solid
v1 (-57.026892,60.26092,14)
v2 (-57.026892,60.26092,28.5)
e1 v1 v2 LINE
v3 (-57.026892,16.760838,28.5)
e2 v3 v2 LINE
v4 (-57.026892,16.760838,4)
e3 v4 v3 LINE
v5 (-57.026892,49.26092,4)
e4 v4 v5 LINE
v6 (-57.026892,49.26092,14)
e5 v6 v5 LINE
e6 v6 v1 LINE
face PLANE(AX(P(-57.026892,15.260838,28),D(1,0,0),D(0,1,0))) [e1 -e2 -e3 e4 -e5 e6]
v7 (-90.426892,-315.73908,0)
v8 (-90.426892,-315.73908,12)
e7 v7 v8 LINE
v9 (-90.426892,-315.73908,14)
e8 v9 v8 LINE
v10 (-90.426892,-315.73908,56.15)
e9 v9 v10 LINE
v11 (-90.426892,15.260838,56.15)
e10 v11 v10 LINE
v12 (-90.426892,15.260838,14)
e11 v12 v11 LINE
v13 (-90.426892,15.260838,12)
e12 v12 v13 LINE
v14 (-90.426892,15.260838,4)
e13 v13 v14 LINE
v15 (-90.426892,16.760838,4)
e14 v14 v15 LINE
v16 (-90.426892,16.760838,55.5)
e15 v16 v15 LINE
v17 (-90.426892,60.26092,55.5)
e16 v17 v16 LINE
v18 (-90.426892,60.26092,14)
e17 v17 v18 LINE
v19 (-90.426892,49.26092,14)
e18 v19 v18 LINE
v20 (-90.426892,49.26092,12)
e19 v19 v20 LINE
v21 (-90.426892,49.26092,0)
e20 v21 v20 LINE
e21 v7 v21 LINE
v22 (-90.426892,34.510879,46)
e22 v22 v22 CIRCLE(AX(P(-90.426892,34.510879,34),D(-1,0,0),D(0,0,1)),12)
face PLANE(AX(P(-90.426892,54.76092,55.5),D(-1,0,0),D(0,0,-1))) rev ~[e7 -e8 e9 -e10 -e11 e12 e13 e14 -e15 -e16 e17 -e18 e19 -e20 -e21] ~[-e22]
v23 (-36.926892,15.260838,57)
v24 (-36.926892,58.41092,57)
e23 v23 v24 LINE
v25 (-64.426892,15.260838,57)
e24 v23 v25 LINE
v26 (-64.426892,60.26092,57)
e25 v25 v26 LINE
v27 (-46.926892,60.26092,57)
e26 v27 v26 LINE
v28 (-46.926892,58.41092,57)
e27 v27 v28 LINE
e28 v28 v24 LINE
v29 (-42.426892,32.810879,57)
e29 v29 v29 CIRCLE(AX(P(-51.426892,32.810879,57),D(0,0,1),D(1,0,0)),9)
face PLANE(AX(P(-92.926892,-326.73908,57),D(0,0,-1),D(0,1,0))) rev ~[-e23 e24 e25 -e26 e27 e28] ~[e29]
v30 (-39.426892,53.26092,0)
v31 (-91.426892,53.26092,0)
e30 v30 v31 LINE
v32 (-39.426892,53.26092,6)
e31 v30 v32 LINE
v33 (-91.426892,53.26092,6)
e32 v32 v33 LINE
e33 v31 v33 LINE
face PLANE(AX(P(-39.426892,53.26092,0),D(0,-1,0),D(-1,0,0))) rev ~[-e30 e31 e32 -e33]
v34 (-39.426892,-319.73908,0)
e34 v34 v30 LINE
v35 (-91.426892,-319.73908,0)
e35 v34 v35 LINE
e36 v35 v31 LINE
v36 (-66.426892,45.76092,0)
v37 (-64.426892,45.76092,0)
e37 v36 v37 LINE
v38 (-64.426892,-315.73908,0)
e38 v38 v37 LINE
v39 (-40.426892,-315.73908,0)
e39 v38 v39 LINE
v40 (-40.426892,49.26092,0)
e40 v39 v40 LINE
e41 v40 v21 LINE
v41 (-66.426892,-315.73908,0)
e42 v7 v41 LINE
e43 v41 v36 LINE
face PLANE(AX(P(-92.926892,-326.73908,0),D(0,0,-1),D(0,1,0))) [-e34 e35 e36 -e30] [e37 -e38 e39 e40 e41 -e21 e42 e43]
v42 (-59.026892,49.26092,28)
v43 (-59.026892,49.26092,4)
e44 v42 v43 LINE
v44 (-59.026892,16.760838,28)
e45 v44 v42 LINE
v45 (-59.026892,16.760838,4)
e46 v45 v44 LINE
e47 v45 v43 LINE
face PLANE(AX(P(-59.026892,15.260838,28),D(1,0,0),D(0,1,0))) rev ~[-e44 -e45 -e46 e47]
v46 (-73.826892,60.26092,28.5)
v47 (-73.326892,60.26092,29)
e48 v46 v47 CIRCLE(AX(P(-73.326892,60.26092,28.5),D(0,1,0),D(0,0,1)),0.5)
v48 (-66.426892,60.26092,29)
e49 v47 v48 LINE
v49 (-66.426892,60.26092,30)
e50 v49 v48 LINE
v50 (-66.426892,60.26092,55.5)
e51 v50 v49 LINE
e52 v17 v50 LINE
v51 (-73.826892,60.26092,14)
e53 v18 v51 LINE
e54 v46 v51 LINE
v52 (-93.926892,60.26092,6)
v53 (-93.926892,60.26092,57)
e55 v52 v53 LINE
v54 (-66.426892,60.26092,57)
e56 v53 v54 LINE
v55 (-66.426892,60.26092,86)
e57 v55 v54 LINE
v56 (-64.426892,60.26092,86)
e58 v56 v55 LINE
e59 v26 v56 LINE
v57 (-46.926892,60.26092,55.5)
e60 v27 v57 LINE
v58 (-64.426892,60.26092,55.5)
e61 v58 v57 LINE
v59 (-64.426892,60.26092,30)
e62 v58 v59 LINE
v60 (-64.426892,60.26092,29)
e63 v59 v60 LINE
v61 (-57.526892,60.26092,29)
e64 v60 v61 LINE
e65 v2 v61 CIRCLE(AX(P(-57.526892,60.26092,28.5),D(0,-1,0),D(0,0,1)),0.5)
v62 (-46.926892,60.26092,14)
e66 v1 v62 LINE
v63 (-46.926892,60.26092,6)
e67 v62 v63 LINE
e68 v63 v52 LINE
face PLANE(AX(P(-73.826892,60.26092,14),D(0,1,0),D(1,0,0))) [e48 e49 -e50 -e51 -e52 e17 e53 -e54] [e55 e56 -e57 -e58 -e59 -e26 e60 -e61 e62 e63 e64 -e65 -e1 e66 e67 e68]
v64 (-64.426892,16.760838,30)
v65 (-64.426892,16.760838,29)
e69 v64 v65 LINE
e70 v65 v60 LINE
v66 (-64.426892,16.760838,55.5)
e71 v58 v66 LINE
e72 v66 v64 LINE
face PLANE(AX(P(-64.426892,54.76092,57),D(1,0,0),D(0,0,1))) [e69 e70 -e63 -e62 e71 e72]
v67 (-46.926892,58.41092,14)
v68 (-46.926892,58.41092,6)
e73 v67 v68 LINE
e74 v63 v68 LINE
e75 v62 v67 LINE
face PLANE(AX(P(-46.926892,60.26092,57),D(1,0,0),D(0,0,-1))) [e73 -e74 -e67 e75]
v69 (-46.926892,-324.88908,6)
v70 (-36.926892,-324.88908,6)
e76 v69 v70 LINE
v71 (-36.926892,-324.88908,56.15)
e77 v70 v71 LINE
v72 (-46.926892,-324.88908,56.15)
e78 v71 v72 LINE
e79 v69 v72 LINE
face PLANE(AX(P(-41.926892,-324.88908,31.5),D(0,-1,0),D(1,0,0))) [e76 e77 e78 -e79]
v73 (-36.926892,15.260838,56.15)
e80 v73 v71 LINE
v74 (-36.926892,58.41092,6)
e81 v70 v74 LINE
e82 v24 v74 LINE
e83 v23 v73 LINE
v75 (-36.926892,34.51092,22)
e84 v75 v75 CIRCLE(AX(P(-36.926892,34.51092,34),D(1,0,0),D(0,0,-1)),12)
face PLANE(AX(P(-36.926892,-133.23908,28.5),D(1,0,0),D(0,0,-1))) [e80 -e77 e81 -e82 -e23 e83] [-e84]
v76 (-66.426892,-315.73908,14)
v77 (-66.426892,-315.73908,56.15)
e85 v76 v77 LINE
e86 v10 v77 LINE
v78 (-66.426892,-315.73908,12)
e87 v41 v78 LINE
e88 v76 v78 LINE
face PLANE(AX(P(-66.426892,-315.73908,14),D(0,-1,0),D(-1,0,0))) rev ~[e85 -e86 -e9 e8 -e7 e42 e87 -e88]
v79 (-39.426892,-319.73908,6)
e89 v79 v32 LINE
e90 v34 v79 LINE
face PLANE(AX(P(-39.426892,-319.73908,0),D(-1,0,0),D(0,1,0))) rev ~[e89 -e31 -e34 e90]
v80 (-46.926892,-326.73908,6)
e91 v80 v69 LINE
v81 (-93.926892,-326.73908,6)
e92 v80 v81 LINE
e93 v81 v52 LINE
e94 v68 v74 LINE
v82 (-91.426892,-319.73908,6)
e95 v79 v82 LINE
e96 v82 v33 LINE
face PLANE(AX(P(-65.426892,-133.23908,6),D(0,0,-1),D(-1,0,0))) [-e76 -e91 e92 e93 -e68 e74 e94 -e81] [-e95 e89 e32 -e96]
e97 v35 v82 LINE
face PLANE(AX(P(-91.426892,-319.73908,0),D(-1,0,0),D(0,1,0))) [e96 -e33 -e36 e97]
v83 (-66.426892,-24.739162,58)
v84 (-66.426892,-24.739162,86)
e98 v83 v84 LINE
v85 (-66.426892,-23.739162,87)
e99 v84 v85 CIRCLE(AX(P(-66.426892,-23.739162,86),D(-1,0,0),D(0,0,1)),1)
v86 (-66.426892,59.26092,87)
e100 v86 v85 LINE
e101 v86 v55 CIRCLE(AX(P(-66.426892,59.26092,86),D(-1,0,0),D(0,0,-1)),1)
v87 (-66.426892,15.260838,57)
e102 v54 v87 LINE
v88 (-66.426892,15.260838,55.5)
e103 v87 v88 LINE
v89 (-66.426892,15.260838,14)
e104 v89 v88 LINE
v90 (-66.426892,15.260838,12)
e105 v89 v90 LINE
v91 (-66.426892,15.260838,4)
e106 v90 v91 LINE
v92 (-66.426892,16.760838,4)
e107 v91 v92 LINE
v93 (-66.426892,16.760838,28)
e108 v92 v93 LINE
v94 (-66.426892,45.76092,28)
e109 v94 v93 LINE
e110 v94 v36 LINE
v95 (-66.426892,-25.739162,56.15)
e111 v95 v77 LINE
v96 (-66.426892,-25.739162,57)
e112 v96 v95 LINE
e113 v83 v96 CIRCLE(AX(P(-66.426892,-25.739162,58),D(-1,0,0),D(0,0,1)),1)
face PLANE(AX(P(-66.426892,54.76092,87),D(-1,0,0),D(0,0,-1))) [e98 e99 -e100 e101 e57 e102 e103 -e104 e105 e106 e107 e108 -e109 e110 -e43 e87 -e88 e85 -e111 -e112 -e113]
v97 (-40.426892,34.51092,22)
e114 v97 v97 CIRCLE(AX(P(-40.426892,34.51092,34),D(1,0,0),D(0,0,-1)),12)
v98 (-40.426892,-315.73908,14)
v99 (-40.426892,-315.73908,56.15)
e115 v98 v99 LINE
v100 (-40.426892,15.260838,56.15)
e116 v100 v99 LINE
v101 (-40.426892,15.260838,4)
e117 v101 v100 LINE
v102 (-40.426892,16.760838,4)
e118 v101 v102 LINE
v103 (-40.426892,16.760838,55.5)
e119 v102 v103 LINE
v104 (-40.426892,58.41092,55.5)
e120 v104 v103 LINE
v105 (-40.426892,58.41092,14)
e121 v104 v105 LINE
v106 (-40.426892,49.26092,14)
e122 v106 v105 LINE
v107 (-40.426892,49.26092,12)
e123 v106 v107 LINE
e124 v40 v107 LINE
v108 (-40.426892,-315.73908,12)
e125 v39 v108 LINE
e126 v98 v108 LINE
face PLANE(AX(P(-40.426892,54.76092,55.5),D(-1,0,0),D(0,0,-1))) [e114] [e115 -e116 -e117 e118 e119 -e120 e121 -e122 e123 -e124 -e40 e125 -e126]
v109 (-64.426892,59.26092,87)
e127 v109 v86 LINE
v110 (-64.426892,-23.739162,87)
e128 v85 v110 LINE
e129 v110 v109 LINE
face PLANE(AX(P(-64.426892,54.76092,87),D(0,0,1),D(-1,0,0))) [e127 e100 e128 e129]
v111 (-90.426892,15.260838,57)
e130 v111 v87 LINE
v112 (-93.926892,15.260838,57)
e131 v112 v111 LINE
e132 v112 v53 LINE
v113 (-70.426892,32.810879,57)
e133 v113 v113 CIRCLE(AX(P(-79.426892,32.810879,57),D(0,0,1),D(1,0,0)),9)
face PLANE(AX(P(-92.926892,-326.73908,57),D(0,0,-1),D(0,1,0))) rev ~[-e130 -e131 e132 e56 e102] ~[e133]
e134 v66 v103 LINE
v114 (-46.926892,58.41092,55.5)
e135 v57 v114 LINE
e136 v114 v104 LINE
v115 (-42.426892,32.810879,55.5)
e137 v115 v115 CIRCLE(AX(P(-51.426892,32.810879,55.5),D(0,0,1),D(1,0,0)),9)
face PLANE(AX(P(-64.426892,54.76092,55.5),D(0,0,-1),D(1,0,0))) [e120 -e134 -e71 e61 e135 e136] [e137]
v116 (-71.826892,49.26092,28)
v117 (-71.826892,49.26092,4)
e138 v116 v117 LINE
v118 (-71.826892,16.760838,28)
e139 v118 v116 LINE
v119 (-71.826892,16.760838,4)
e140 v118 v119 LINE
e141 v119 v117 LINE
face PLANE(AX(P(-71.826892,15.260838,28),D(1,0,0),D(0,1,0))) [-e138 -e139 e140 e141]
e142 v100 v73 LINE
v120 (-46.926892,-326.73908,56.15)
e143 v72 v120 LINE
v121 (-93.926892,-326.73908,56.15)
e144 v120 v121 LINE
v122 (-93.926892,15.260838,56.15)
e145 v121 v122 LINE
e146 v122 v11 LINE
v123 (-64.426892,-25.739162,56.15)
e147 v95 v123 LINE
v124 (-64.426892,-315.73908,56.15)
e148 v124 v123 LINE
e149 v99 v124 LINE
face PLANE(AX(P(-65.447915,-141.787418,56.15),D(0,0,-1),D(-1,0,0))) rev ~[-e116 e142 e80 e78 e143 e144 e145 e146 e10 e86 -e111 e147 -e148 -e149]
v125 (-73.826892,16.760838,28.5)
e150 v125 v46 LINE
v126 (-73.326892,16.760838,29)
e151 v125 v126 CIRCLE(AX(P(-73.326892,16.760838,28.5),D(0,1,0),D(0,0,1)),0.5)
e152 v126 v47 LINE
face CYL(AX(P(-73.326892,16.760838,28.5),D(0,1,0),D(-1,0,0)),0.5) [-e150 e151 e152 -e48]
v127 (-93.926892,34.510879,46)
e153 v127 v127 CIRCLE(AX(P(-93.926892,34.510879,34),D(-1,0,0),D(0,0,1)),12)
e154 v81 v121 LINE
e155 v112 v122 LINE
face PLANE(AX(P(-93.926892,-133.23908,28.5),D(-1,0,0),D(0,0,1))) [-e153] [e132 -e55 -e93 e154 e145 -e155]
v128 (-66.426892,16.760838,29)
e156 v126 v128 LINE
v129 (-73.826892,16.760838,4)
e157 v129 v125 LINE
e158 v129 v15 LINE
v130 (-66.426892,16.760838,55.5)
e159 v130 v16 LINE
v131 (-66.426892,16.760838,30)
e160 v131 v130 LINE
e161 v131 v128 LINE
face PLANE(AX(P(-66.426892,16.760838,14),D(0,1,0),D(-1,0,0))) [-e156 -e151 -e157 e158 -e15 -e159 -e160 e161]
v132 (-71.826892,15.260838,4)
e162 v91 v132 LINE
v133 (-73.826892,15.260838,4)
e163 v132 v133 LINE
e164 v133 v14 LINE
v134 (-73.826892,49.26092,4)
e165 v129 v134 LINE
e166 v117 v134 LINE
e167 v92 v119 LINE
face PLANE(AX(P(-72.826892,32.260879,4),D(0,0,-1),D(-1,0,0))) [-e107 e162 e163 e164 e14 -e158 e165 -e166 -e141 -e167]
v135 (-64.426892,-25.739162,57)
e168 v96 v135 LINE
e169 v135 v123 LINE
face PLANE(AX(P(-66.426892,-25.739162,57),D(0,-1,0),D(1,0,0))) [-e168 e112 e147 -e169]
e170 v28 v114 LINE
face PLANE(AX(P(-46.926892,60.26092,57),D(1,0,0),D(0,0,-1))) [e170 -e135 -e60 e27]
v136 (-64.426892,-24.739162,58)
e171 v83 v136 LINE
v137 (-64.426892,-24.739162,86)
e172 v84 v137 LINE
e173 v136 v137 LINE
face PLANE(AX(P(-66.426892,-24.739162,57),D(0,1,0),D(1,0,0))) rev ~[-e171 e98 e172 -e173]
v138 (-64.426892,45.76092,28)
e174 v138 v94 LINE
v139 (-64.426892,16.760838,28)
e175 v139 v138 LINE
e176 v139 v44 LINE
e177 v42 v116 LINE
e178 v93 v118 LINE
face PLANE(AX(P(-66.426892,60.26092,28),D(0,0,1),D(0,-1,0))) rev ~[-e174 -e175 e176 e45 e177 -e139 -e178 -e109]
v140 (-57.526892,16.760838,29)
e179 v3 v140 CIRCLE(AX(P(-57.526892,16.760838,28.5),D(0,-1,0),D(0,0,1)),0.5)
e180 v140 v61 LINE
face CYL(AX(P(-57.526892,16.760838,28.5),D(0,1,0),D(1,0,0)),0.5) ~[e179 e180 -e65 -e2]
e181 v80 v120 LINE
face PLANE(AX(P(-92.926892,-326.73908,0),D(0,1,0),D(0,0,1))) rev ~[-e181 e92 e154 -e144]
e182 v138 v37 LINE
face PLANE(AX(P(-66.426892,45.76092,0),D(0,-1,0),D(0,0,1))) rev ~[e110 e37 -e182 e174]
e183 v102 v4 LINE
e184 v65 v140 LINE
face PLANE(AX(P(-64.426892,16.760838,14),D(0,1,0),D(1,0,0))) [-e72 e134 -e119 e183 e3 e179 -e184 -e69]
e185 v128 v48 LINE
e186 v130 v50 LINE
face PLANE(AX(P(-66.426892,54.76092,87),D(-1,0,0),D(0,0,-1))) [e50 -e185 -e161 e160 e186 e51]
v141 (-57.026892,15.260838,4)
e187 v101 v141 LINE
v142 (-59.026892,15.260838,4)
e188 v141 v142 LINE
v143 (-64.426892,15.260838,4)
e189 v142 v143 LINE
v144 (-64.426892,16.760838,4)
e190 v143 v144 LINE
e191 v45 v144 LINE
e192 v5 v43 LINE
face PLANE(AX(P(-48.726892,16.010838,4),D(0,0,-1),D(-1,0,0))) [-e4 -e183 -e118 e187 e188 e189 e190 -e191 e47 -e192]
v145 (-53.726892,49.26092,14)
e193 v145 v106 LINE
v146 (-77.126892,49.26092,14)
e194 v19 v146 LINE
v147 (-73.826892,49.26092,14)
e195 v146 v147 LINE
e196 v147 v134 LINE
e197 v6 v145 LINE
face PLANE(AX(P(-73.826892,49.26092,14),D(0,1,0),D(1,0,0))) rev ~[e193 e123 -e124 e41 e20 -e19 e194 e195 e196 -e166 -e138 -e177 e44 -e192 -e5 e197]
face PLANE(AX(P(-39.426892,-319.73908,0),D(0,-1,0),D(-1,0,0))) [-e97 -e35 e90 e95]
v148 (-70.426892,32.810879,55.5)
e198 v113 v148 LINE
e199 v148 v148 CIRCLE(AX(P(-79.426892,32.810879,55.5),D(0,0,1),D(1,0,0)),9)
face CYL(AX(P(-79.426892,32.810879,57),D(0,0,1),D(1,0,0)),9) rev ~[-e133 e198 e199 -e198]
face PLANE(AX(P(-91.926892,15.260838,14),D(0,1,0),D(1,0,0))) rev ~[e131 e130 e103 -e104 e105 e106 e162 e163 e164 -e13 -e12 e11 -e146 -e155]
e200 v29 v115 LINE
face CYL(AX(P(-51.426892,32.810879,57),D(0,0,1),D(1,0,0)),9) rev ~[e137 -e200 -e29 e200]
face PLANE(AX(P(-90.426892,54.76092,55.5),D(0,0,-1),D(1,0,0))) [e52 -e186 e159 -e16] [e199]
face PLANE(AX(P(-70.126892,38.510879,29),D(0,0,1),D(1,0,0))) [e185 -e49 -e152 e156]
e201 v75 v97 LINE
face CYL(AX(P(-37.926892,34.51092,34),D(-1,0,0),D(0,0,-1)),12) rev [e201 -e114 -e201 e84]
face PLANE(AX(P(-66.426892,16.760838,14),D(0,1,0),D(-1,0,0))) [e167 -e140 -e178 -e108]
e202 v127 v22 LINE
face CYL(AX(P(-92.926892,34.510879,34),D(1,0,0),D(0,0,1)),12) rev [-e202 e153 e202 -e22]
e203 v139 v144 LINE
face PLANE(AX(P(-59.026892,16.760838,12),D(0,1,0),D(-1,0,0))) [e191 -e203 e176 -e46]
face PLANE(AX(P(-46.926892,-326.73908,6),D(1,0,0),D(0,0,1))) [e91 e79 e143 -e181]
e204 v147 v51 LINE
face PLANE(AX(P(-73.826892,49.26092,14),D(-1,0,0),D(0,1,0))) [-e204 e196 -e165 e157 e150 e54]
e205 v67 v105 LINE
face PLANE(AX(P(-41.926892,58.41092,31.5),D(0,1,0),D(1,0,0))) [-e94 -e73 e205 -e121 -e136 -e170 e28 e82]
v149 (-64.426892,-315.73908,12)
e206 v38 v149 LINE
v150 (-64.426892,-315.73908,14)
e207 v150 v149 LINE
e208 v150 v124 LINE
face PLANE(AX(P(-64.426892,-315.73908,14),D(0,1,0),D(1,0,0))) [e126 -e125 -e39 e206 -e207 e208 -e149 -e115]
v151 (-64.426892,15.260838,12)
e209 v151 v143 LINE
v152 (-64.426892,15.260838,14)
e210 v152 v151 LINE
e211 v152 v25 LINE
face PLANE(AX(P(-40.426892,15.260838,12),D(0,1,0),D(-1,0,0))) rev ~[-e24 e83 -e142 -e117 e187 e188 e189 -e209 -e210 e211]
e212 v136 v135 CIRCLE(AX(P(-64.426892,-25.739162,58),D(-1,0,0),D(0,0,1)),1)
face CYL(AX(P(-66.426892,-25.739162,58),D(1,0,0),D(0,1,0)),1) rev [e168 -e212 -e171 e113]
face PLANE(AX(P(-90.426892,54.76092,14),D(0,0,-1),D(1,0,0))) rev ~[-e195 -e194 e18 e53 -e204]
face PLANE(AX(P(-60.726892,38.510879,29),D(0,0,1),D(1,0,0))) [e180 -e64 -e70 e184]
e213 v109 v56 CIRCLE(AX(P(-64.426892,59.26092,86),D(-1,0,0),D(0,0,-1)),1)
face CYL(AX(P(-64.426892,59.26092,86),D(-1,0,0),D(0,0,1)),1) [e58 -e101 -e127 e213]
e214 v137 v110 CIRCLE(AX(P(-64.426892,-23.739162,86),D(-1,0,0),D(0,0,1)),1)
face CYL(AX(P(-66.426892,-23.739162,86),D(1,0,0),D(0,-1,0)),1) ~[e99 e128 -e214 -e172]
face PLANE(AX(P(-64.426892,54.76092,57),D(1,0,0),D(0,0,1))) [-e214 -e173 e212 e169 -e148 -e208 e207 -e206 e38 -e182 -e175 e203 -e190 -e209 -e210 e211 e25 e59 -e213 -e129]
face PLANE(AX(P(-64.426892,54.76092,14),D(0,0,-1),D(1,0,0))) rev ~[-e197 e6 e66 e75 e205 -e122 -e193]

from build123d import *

# Parameters (mm, degrees)
SZKIC1_W                     = 53
SZKIC1_H                     = 374
SZKIC1_W_2                   = 24
SZKIC1_H_2                   = 365
DODANIE_WYCI_GNI_CIE2_DEPTH  = 12
SZKIC2_W                     = 12
SZKIC2_H                     = 3.5
WYTNIJ_WYCI_GNI_CIE1_DEPTH   = 2
SZKIC3_W                     = 53
SZKIC3_H                     = 374
DODANIE_WYCI_GNI_CIE3_DEPTH  = 2
SZKIC4_W                     = 13.3
SZKIC4_H                     = 30.500081729
SZKIC4_W_2                   = 9.4
SZKIC4_H_2                   = 64.96
WYTNIJ_WYCI_GNI_CIE2_DEPTH   = 2
SZKIC5_W                     = 2
SZKIC5_H                     = 374
DODANIE_WYCI_GNI_CIE4_DEPTH  = 43
DODANIE_WYCI_GNI_CIE5_DEPTH  = 41.5
SZKIC7_W                     = 25.5
SZKIC7_H                     = 38.500081729
DODANIE_WYCI_GNI_CIE6_DEPTH  = 1.5
SZKIC9_R                     = 12
WYTNIJ_WYCI_GNI_CIE4_DEPTH   = 1.5
DODANIE_WYCI_GNI_CIE7_DEPTH  = 43
DODANIE_WYCI_GNI_CIE8_DEPTH  = 43
SZKIC12_R                    = 12
WYTNIJ_WYCI_GNI_CIE5_DEPTH   = 1.5
SZKIC13_R                    = 9
WYTNIJ_WYCI_GNI_CIE6_DEPTH   = 1.5
SZKIC14_W                    = 57
SZKIC14_H                    = 374
SZKIC14_R                    = 12
DODANIE_WYCI_GNI_CIE9_DEPTH  = 1
SZKIC15_W                    = 57
SZKIC15_H                    = 374
SZKIC15_R                    = 12
DODANIE_WYCI_GNI_CIE10_DEPTH = 1
SZKIC16_W                    = 55
SZKIC16_H                    = 57
SZKIC16_W_2                  = 24
SZKIC16_H_2                  = 41.5
DODANIE_WYCI_GNI_CIE11_DEPTH = 1
SZKIC17_W                    = 55
SZKIC17_H                    = 57
DODANIE_WYCI_GNI_CIE12_DEPTH = 1
DODANIE_WYCI_GNI_CIE13_DEPTH = 30
SZKIC20_W                    = 55
SZKIC20_H                    = 57
DODANIE_WYCI_GNI_CIE14_DEPTH = 5.5
SZKIC21_W                    = 24
SZKIC21_H                    = 41.5
DODANIE_WYCI_GNI_CIE15_DEPTH = 5.5
SZKIC22_W                    = 57
SZKIC22_H                    = 387
SZKIC22_R                    = 12
DODANIE_WYCI_GNI_CIE16_DEPTH = 1
SZKIC23_W                    = 57
SZKIC23_H                    = 387
SZKIC23_R                    = 12
DODANIE_WYCI_GNI_CIE17_DEPTH = 1
ZAOKR_GLENIE1_R              = 1
ZAOKR_GLENIE2_R              = 1
ZAOKR_GLENIE3_R              = 1
SZKIC24_W                    = 57
SZKIC24_H                    = 387
SZKIC24_W_2                  = 52
SZKIC24_H_2                  = 373
WYTNIJ_WYCI_GNI_CIE7_DEPTH   = 6
SZKIC25_W                    = 24
SZKIC25_H                    = 330.999918271
WYTNIJ_WYCI_GNI_CIE8_DEPTH   = 2
SZKIC26_W                    = 10
SZKIC26_H                    = 51
WYTNIJ_WYCI_GNI_CIE9_DEPTH   = 1.85
SZKIC27_W                    = 10
SZKIC27_H                    = 51
WYTNIJ_WYCI_GNI_CIE10_DEPTH  = 1.85
WYTNIJ_WYCI_GNI_CIE11_DEPTH  = 0.85
WYTNIJ_WYCI_GNI_CIE12_DEPTH  = 2
WYTNIJ_WYCI_GNI_CIE13_DEPTH  = 2
SZKIC31_W                    = 2
SZKIC31_H                    = 3.5
WYTNIJ_WYCI_GNI_CIE14_DEPTH  = 16
DODANIE_WYCI_GNI_CIE18_DEPTH = 7.4
DODANIE_WYCI_GNI_CIE19_DEPTH = 7.4
SZKIC34_W                    = 7.4
SZKIC34_H                    = 11
DODANIE_WYCI_GNI_CIE20_DEPTH = 14
SZKIC35_W                    = 7.4
SZKIC35_H                    = 11
DODANIE_WYCI_GNI_CIE21_DEPTH = 14
SZKIC36_W                    = 2
SZKIC36_H                    = 34.000081729
DODANIE_WYCI_GNI_CIE22_DEPTH = 24
SZKIC37_W                    = 16.6
SZKIC37_H                    = 1.5
SZKIC37_W_2                  = 5.4
DODANIE_WYCI_GNI_CIE23_DEPTH = 8
SZKIC38_W                    = 7.4
SZKIC38_H                    = 43.500081729
WYTNIJ_WYCI_GNI_CIE15_DEPTH  = 1
ZAOKR_GLENIE4_R              = 0.5
ZAOKR_GLENIE5_R              = 0.5


with BuildPart() as part:
    # Szkic1 → Dodanie-wyciągnięcie2 (new body)
    with BuildSketch(Plane.XY):
        with Locations((-65.426891924, -133.239080048)):
            Rectangle(SZKIC1_W, SZKIC1_H)
        with Locations((-78.426891924, -133.239080048)):
            Rectangle(SZKIC1_W_2, SZKIC1_H_2, mode=Mode.SUBTRACT)
        with Locations((-52.426891924, -133.239080048)):
            Rectangle(SZKIC1_W_2, SZKIC1_H_2, mode=Mode.SUBTRACT)
    extrude(amount=DODANIE_WYCI_GNI_CIE2_DEPTH)

    # Szkic2 → Wytnij-wyciągnięcie1 (cut)
    with BuildSketch(Plane.ZY.offset(66.426891924)):
        with Locations((6, 47.510919952)):
            Rectangle(SZKIC2_W, SZKIC2_H)
    extrude(amount=-WYTNIJ_WYCI_GNI_CIE1_DEPTH, mode=Mode.SUBTRACT)

    # Szkic3 → Dodanie-wyciągnięcie3 (add)
    with BuildSketch(Plane.XY.offset(12)):
        with Locations((-65.426891924, -133.239080048)):
            Rectangle(SZKIC3_W, SZKIC3_H)
    extrude(amount=DODANIE_WYCI_GNI_CIE3_DEPTH)

    # Szkic4 → Wytnij-wyciągnięcie2 (cut)
    with BuildSketch(Plane.XY.offset(14)):
        Polygon((-46.926891924, -11.039080048), (-56.326891924, -11.039080048), (-56.326891924, -35.399080048), (-56.326891924, -40.479080048), (-46.926891924, -40.479080048), (-46.926891924, -35.399080048), align=None)
        with Locations((-47.076891924, 34.010879088)):
            Rectangle(SZKIC4_W, SZKIC4_H)
        with Locations((-83.776891924, 34.010879088)):
            Rectangle(SZKIC4_W, SZKIC4_H)
        Polygon((-74.526891924, -35.399080048), (-74.526891924, -11.039080048), (-83.926891924, -11.039080048), (-83.926891924, -35.399080048), (-83.926891924, -40.479080048), (-74.526891924, -40.479080048), align=None)
        with Locations((-51.626891924, -133.719080048)):
            Rectangle(SZKIC4_W_2, SZKIC4_H_2)
        with Locations((-79.226891924, -133.719080048)):
            Rectangle(SZKIC4_W_2, SZKIC4_H_2)
    extrude(amount=-WYTNIJ_WYCI_GNI_CIE2_DEPTH, mode=Mode.SUBTRACT)

    # Szkic5 → Dodanie-wyciągnięcie4 (add)
    with BuildSketch(Plane.XY.offset(14)):
        with Locations((-65.426891924, -133.239080048)):
            Rectangle(SZKIC5_W, SZKIC5_H)
    extrude(amount=DODANIE_WYCI_GNI_CIE4_DEPTH)

    # Szkic6 → Dodanie-wyciągnięcie5 (add)
    with BuildSketch(Plane.XY.offset(14)):
        Polygon((-64.426891924, 16.760838223), (-40.426891924, 16.760838223), (-40.426891924, 53.760919952), (-38.926891924, 53.760919952), (-38.926891924, 15.260838223), (-64.426891924, 15.260838223), align=None)
        Polygon((-90.426891924, 53.760919952), (-91.926891924, 53.760919952), (-91.926891924, 15.260838223), (-66.426891924, 15.260838223), (-66.426891924, 16.760838223), (-90.426891924, 16.760838223), align=None)
    extrude(amount=DODANIE_WYCI_GNI_CIE5_DEPTH)

    # Szkic7 → Dodanie-wyciągnięcie6 (add)
    with BuildSketch(Plane.XY.offset(55.5)):
        with Locations((-51.676891924, 34.510879088)):
            Rectangle(SZKIC7_W, SZKIC7_H)
        with Locations((-79.176891924, 34.510879088)):
            Rectangle(SZKIC7_W, SZKIC7_H)
    extrude(amount=DODANIE_WYCI_GNI_CIE6_DEPTH)

    # Szkic9 → Wytnij-wyciągnięcie4 (cut)
    with BuildSketch(Plane.ZY.offset(91.926891924)):
        with Locations((34, 34.510879088)):
            Circle(SZKIC9_R)
    extrude(amount=-WYTNIJ_WYCI_GNI_CIE4_DEPTH, mode=Mode.SUBTRACT)

    # Szkic10 → Dodanie-wyciągnięcie7 (add)
    with BuildSketch(Plane.XY.offset(14)):
        Polygon((-91.926891924, 15.260838223), (-91.926891924, -320.239080048), (-66.426891924, -320.239080048), (-66.426891924, -315.739080048), (-90.426891924, -315.739080048), (-90.426891924, 15.260838223), align=None)
    extrude(amount=DODANIE_WYCI_GNI_CIE7_DEPTH)

    # Szkic11 → Dodanie-wyciągnięcie8 (add)
    with BuildSketch(Plane.XY.offset(14)):
        Polygon((-38.926891924, 15.260838223), (-38.926891924, -320.239080048), (-64.426891924, -320.239080048), (-64.426891924, -315.739080048), (-40.426891924, -315.739080048), (-40.426891924, 15.260838223), align=None)
    extrude(amount=DODANIE_WYCI_GNI_CIE8_DEPTH)

    # Szkic12 → Wytnij-wyciągnięcie5 (cut)
    with BuildSketch(Plane(origin=(-38.926891924, 0, 0), x_dir=(0, 0, -1), z_dir=(1, 0, 0))):
        with Locations((-34, 34.510919952)):
            Circle(SZKIC12_R)
    extrude(amount=-WYTNIJ_WYCI_GNI_CIE5_DEPTH, mode=Mode.SUBTRACT)

    # Szkic13 → Wytnij-wyciągnięcie6 (cut)
    with BuildSketch(Plane.XY.offset(57)):
        with Locations((-51.426891924, 32.810879088)):
            Circle(SZKIC13_R)
        with Locations((-79.426891924, 32.810879088)):
            Circle(SZKIC13_R)
    extrude(amount=-WYTNIJ_WYCI_GNI_CIE6_DEPTH, mode=Mode.SUBTRACT)

    # Szkic14 → Dodanie-wyciągnięcie9 (add)
    with BuildSketch(Plane(origin=(-38.926891924, 0, 0), x_dir=(0, 0, -1), z_dir=(1, 0, 0))):
        with Locations((-28.5, -133.239080048)):
            Rectangle(SZKIC14_W, SZKIC14_H)
        with Locations((-34, 34.510919952)):
            Circle(SZKIC14_R, mode=Mode.SUBTRACT)
    extrude(amount=DODANIE_WYCI_GNI_CIE9_DEPTH)

    # Szkic15 → Dodanie-wyciągnięcie10 (add)
    with BuildSketch(Plane.ZY.offset(91.926891924)):
        with Locations((28.5, -133.239080048)):
            Rectangle(SZKIC15_W, SZKIC15_H)
        with Locations((34, 34.510879088)):
            Circle(SZKIC15_R, mode=Mode.SUBTRACT)
    extrude(amount=DODANIE_WYCI_GNI_CIE10_DEPTH)

    # Szkic16 → Dodanie-wyciągnięcie11 (add)
    with BuildSketch(Plane(origin=(0, 53.760919952, 0), x_dir=(1, 0, 0), z_dir=(0, 1, 0))):
        with Locations((-65.426891924, -28.5)):
            Rectangle(SZKIC16_W, SZKIC16_H)
        with Locations((-52.426891924, -34.75)):
            Rectangle(SZKIC16_W_2, SZKIC16_H_2, mode=Mode.SUBTRACT)
        with Locations((-78.426891924, -34.75)):
            Rectangle(SZKIC16_W_2, SZKIC16_H_2, mode=Mode.SUBTRACT)
    extrude(amount=DODANIE_WYCI_GNI_CIE11_DEPTH)

    # Szkic17 → Dodanie-wyciągnięcie12 (add)
    with BuildSketch(Plane.XZ.offset(320.239080048)):
        with Locations((-65.426891924, 28.5)):
            Rectangle(SZKIC17_W, SZKIC17_H)
    extrude(amount=DODANIE_WYCI_GNI_CIE12_DEPTH)

    # Szkic18 → Dodanie-wyciągnięcie13 (add)
    with BuildSketch(Plane.XY.offset(57)):
        Polygon((-64.426891924, 15.260838223), (-64.426891924, 54.760919952), (-66.426891924, 54.760919952), (-66.426891924, 15.260838223), (-66.426891924, -4.739161777), (-66.426891924, -24.739161777), (-64.426891924, -24.739161777), (-64.426891924, -4.739161777), align=None)
    extrude(amount=DODANIE_WYCI_GNI_CIE13_DEPTH)

    # Szkic20 → Dodanie-wyciągnięcie14 (add)
    with BuildSketch(Plane.XZ.offset(321.239080048)):
        with Locations((-65.426891924, 28.5)):
            Rectangle(SZKIC20_W, SZKIC20_H)
    extrude(amount=DODANIE_WYCI_GNI_CIE14_DEPTH)

    # Szkic21 → Dodanie-wyciągnięcie15 (add)
    with BuildSketch(Plane(origin=(0, 54.760919952, 0), x_dir=(1, 0, 0), z_dir=(0, 1, 0))):
        Polygon((-64.426891924, -87), (-66.426891924, -87), (-66.426891924, -57), (-92.926891924, -57), (-92.926891924, 0), (-37.926891924, 0), (-37.926891924, -57), (-64.426891924, -57), align=None)
        with Locations((-52.426891924, -34.75)):
            Rectangle(SZKIC21_W, SZKIC21_H, mode=Mode.SUBTRACT)
        with Locations((-78.426891924, -34.75)):
            Rectangle(SZKIC21_W, SZKIC21_H, mode=Mode.SUBTRACT)
    extrude(amount=DODANIE_WYCI_GNI_CIE15_DEPTH)

    # Szkic22 → Dodanie-wyciągnięcie16 (add)
    with BuildSketch(Plane(origin=(-37.926891924, 0, 0), x_dir=(0, 0, -1), z_dir=(1, 0, 0))):
        with Locations((-28.5, -133.239080048)):
            Rectangle(SZKIC22_W, SZKIC22_H)
        with Locations((-34, 34.510919952)):
            Circle(SZKIC22_R, mode=Mode.SUBTRACT)
    extrude(amount=DODANIE_WYCI_GNI_CIE16_DEPTH)

    # Szkic23 → Dodanie-wyciągnięcie17 (add)
    with BuildSketch(Plane.ZY.offset(92.926891924)):
        with Locations((28.5, -133.239080048)):
            Rectangle(SZKIC23_W, SZKIC23_H)
        with Locations((34, 34.510879088)):
            Circle(SZKIC23_R, mode=Mode.SUBTRACT)
    extrude(amount=DODANIE_WYCI_GNI_CIE17_DEPTH)

    # Zaokrąglenie1
    zaokr_glenie1_edges = [part.edges().sort_by_distance(p)[0] for p in [
        (-65.426891924, -24.739161777, 87),
    ]]
    fillet(zaokr_glenie1_edges, radius=ZAOKR_GLENIE1_R)

    # Zaokrąglenie2
    zaokr_glenie2_edges = [part.edges().sort_by_distance(p)[0] for p in [
        (-65.426891924, -24.739161777, 57),
    ]]
    fillet(zaokr_glenie2_edges, radius=ZAOKR_GLENIE2_R)

    # Zaokrąglenie3
    zaokr_glenie3_edges = [part.edges().sort_by_distance(p)[0] for p in [
        (-65.426891924, 60.260919952, 87),
    ]]
    fillet(zaokr_glenie3_edges, radius=ZAOKR_GLENIE3_R)

    # Szkic24 → Wytnij-wyciągnięcie7 (cut)
    with BuildSketch(Plane(origin=(0, 0, 0), x_dir=(-1, 0, 0), z_dir=(0, 0, -1))):
        with Locations((65.426891924, -133.239080048)):
            Rectangle(SZKIC24_W, SZKIC24_H)
        with Locations((65.426891924, -133.239080048)):
            Rectangle(SZKIC24_W_2, SZKIC24_H_2, mode=Mode.SUBTRACT)
    extrude(amount=-WYTNIJ_WYCI_GNI_CIE7_DEPTH, mode=Mode.SUBTRACT)

    # Szkic25 → Wytnij-wyciągnięcie8 (cut)
    with BuildSketch(Plane.XY.offset(14)):
        with Locations((-52.426891924, -150.239120912)):
            Rectangle(SZKIC25_W, SZKIC25_H)
        with Locations((-78.426891924, -150.239120912)):
            Rectangle(SZKIC25_W, SZKIC25_H)
    extrude(amount=-WYTNIJ_WYCI_GNI_CIE8_DEPTH, mode=Mode.SUBTRACT)

    # Szkic26 → Wytnij-wyciągnięcie9 (cut)
    with BuildSketch(Plane(origin=(0, 60.260919952, 0), x_dir=(1, 0, 0), z_dir=(0, 1, 0))):
        with Locations((-41.926891924, -31.5)):
            Rectangle(SZKIC26_W, SZKIC26_H)
    extrude(amount=-WYTNIJ_WYCI_GNI_CIE9_DEPTH, mode=Mode.SUBTRACT)

    # Szkic27 → Wytnij-wyciągnięcie10 (cut)
    with BuildSketch(Plane.XZ.offset(326.739080048)):
        with Locations((-41.926891924, 31.5)):
            Rectangle(SZKIC27_W, SZKIC27_H)
    extrude(amount=-WYTNIJ_WYCI_GNI_CIE10_DEPTH, mode=Mode.SUBTRACT)

    # Szkic28 → Wytnij-wyciągnięcie11 (cut)
    with BuildSketch(Plane.XY.offset(57)):
        Polygon((-36.926891924, -324.889080048), (-46.926891924, -324.889080048), (-46.926891924, -326.739080048), (-93.926891924, -326.739080048), (-93.926891924, 15.260838223), (-66.426891924, 15.260838223), (-66.426891924, -25.739161777), (-64.426891924, -25.739161777), (-64.426891924, 15.260838223), (-36.926891924, 15.260838223), align=None)
    extrude(amount=-WYTNIJ_WYCI_GNI_CIE11_DEPTH, mode=Mode.SUBTRACT)

    # Szkic29 → Wytnij-wyciągnięcie12 (cut)
    with BuildSketch(Plane.XY.offset(14)):
        Polygon((-40.426891924, 18.760838223), (-40.426891924, 16.760838223), (-64.426891924, 16.760838223), (-64.426891924, 49.260919952), (-53.726891924, 49.260919952), (-53.726891924, 18.760838223), align=None)
    extrude(amount=-WYTNIJ_WYCI_GNI_CIE12_DEPTH, mode=Mode.SUBTRACT)

    # Szkic30 → Wytnij-wyciągnięcie13 (cut)
    with BuildSketch(Plane.XY.offset(14)):
        Polygon((-77.126891924, 49.260919952), (-66.426891924, 49.260919952), (-66.426891924, 16.760838223), (-90.426891924, 16.760838223), (-90.426891924, 18.760838223), (-77.126891924, 18.760838223), align=None)
    extrude(amount=-WYTNIJ_WYCI_GNI_CIE13_DEPTH, mode=Mode.SUBTRACT)

    # Szkic31 → Wytnij-wyciągnięcie14 (cut)
    with BuildSketch(Plane(origin=(0, 0, 12), x_dir=(-1, 0, 0), z_dir=(0, 0, -1))):
        with Locations((65.426891924, 47.510919952)):
            Rectangle(SZKIC31_W, SZKIC31_H)
    extrude(amount=-WYTNIJ_WYCI_GNI_CIE14_DEPTH, mode=Mode.SUBTRACT)

    # Szkic32 → Dodanie-wyciągnięcie18 (add)
    with BuildSketch(Plane(origin=(-64.426891924, 0, 0), x_dir=(0, 0, -1), z_dir=(1, 0, 0))):
        Polygon((-28, 45.760919952), (-28, 16.760838223), (-30, 16.760838223), (-30, 60.260919952), (-28, 60.260919952), align=None)
    extrude(amount=DODANIE_WYCI_GNI_CIE18_DEPTH)

    # Szkic33 → Dodanie-wyciągnięcie19 (add)
    with BuildSketch(Plane.ZY.offset(66.426891924)):
        Polygon((28, 49.260919952), (28, 60.260919952), (30, 60.260919952), (30, 16.760838223), (28, 16.760838223), align=None)
    extrude(amount=DODANIE_WYCI_GNI_CIE19_DEPTH)

    # Szkic34 → Dodanie-wyciągnięcie20 (add)
    with BuildSketch(Plane.XY.offset(14)):
        with Locations((-60.726891924, 54.760919952)):
            Rectangle(SZKIC34_W, SZKIC34_H)
    extrude(amount=DODANIE_WYCI_GNI_CIE20_DEPTH)

    # Szkic35 → Dodanie-wyciągnięcie21 (add)
    with BuildSketch(Plane.XY.offset(14)):
        with Locations((-70.126891924, 54.760919952)):
            Rectangle(SZKIC35_W, SZKIC35_H)
    extrude(amount=DODANIE_WYCI_GNI_CIE21_DEPTH)

    # Szkic36 → Dodanie-wyciągnięcie22 (add)
    with BuildSketch(Plane(origin=(0, 0, 28), x_dir=(-1, 0, 0), z_dir=(0, 0, -1))):
        with Locations((58.026891924, 32.260879088)):
            Rectangle(SZKIC36_W, SZKIC36_H)
        with Locations((72.826891924, 32.260879088)):
            Rectangle(SZKIC36_W, SZKIC36_H)
    extrude(amount=DODANIE_WYCI_GNI_CIE22_DEPTH)

    # Szkic37 → Dodanie-wyciągnięcie23 (add)
    with BuildSketch(Plane(origin=(0, 0, 12), x_dir=(-1, 0, 0), z_dir=(0, 0, -1))):
        with Locations((48.726891924, 16.010838223)):
            Rectangle(SZKIC37_W, SZKIC37_H)
        with Locations((61.726891924, 16.010838223)):
            Rectangle(SZKIC37_W_2, SZKIC37_H)
        with Locations((69.126891924, 16.010838223)):
            Rectangle(SZKIC37_W_2, SZKIC37_H)
        with Locations((82.126891924, 16.010838223)):
            Rectangle(SZKIC37_W, SZKIC37_H)
    extrude(amount=DODANIE_WYCI_GNI_CIE23_DEPTH)

    # Szkic38 → Wytnij-wyciągnięcie15 (cut)
    with BuildSketch(Plane.XY.offset(30)):
        with Locations((-70.126891924, 38.510879088)):
            Rectangle(SZKIC38_W, SZKIC38_H)
        with Locations((-60.726891924, 38.510879088)):
            Rectangle(SZKIC38_W, SZKIC38_H)
    extrude(amount=-WYTNIJ_WYCI_GNI_CIE15_DEPTH, mode=Mode.SUBTRACT)

    # Zaokrąglenie4
    zaokr_glenie4_edges = [part.edges().sort_by_distance(p)[0] for p in [
        (-57.026891924, 38.510879088, 29),
    ]]
    fillet(zaokr_glenie4_edges, radius=ZAOKR_GLENIE4_R)

    # Zaokrąglenie5
    zaokr_glenie5_edges = [part.edges().sort_by_distance(p)[0] for p in [
        (-73.826891924, 38.510879088, 29),
    ]]
    fillet(zaokr_glenie5_edges, radius=ZAOKR_GLENIE5_R)


solid = part.part
